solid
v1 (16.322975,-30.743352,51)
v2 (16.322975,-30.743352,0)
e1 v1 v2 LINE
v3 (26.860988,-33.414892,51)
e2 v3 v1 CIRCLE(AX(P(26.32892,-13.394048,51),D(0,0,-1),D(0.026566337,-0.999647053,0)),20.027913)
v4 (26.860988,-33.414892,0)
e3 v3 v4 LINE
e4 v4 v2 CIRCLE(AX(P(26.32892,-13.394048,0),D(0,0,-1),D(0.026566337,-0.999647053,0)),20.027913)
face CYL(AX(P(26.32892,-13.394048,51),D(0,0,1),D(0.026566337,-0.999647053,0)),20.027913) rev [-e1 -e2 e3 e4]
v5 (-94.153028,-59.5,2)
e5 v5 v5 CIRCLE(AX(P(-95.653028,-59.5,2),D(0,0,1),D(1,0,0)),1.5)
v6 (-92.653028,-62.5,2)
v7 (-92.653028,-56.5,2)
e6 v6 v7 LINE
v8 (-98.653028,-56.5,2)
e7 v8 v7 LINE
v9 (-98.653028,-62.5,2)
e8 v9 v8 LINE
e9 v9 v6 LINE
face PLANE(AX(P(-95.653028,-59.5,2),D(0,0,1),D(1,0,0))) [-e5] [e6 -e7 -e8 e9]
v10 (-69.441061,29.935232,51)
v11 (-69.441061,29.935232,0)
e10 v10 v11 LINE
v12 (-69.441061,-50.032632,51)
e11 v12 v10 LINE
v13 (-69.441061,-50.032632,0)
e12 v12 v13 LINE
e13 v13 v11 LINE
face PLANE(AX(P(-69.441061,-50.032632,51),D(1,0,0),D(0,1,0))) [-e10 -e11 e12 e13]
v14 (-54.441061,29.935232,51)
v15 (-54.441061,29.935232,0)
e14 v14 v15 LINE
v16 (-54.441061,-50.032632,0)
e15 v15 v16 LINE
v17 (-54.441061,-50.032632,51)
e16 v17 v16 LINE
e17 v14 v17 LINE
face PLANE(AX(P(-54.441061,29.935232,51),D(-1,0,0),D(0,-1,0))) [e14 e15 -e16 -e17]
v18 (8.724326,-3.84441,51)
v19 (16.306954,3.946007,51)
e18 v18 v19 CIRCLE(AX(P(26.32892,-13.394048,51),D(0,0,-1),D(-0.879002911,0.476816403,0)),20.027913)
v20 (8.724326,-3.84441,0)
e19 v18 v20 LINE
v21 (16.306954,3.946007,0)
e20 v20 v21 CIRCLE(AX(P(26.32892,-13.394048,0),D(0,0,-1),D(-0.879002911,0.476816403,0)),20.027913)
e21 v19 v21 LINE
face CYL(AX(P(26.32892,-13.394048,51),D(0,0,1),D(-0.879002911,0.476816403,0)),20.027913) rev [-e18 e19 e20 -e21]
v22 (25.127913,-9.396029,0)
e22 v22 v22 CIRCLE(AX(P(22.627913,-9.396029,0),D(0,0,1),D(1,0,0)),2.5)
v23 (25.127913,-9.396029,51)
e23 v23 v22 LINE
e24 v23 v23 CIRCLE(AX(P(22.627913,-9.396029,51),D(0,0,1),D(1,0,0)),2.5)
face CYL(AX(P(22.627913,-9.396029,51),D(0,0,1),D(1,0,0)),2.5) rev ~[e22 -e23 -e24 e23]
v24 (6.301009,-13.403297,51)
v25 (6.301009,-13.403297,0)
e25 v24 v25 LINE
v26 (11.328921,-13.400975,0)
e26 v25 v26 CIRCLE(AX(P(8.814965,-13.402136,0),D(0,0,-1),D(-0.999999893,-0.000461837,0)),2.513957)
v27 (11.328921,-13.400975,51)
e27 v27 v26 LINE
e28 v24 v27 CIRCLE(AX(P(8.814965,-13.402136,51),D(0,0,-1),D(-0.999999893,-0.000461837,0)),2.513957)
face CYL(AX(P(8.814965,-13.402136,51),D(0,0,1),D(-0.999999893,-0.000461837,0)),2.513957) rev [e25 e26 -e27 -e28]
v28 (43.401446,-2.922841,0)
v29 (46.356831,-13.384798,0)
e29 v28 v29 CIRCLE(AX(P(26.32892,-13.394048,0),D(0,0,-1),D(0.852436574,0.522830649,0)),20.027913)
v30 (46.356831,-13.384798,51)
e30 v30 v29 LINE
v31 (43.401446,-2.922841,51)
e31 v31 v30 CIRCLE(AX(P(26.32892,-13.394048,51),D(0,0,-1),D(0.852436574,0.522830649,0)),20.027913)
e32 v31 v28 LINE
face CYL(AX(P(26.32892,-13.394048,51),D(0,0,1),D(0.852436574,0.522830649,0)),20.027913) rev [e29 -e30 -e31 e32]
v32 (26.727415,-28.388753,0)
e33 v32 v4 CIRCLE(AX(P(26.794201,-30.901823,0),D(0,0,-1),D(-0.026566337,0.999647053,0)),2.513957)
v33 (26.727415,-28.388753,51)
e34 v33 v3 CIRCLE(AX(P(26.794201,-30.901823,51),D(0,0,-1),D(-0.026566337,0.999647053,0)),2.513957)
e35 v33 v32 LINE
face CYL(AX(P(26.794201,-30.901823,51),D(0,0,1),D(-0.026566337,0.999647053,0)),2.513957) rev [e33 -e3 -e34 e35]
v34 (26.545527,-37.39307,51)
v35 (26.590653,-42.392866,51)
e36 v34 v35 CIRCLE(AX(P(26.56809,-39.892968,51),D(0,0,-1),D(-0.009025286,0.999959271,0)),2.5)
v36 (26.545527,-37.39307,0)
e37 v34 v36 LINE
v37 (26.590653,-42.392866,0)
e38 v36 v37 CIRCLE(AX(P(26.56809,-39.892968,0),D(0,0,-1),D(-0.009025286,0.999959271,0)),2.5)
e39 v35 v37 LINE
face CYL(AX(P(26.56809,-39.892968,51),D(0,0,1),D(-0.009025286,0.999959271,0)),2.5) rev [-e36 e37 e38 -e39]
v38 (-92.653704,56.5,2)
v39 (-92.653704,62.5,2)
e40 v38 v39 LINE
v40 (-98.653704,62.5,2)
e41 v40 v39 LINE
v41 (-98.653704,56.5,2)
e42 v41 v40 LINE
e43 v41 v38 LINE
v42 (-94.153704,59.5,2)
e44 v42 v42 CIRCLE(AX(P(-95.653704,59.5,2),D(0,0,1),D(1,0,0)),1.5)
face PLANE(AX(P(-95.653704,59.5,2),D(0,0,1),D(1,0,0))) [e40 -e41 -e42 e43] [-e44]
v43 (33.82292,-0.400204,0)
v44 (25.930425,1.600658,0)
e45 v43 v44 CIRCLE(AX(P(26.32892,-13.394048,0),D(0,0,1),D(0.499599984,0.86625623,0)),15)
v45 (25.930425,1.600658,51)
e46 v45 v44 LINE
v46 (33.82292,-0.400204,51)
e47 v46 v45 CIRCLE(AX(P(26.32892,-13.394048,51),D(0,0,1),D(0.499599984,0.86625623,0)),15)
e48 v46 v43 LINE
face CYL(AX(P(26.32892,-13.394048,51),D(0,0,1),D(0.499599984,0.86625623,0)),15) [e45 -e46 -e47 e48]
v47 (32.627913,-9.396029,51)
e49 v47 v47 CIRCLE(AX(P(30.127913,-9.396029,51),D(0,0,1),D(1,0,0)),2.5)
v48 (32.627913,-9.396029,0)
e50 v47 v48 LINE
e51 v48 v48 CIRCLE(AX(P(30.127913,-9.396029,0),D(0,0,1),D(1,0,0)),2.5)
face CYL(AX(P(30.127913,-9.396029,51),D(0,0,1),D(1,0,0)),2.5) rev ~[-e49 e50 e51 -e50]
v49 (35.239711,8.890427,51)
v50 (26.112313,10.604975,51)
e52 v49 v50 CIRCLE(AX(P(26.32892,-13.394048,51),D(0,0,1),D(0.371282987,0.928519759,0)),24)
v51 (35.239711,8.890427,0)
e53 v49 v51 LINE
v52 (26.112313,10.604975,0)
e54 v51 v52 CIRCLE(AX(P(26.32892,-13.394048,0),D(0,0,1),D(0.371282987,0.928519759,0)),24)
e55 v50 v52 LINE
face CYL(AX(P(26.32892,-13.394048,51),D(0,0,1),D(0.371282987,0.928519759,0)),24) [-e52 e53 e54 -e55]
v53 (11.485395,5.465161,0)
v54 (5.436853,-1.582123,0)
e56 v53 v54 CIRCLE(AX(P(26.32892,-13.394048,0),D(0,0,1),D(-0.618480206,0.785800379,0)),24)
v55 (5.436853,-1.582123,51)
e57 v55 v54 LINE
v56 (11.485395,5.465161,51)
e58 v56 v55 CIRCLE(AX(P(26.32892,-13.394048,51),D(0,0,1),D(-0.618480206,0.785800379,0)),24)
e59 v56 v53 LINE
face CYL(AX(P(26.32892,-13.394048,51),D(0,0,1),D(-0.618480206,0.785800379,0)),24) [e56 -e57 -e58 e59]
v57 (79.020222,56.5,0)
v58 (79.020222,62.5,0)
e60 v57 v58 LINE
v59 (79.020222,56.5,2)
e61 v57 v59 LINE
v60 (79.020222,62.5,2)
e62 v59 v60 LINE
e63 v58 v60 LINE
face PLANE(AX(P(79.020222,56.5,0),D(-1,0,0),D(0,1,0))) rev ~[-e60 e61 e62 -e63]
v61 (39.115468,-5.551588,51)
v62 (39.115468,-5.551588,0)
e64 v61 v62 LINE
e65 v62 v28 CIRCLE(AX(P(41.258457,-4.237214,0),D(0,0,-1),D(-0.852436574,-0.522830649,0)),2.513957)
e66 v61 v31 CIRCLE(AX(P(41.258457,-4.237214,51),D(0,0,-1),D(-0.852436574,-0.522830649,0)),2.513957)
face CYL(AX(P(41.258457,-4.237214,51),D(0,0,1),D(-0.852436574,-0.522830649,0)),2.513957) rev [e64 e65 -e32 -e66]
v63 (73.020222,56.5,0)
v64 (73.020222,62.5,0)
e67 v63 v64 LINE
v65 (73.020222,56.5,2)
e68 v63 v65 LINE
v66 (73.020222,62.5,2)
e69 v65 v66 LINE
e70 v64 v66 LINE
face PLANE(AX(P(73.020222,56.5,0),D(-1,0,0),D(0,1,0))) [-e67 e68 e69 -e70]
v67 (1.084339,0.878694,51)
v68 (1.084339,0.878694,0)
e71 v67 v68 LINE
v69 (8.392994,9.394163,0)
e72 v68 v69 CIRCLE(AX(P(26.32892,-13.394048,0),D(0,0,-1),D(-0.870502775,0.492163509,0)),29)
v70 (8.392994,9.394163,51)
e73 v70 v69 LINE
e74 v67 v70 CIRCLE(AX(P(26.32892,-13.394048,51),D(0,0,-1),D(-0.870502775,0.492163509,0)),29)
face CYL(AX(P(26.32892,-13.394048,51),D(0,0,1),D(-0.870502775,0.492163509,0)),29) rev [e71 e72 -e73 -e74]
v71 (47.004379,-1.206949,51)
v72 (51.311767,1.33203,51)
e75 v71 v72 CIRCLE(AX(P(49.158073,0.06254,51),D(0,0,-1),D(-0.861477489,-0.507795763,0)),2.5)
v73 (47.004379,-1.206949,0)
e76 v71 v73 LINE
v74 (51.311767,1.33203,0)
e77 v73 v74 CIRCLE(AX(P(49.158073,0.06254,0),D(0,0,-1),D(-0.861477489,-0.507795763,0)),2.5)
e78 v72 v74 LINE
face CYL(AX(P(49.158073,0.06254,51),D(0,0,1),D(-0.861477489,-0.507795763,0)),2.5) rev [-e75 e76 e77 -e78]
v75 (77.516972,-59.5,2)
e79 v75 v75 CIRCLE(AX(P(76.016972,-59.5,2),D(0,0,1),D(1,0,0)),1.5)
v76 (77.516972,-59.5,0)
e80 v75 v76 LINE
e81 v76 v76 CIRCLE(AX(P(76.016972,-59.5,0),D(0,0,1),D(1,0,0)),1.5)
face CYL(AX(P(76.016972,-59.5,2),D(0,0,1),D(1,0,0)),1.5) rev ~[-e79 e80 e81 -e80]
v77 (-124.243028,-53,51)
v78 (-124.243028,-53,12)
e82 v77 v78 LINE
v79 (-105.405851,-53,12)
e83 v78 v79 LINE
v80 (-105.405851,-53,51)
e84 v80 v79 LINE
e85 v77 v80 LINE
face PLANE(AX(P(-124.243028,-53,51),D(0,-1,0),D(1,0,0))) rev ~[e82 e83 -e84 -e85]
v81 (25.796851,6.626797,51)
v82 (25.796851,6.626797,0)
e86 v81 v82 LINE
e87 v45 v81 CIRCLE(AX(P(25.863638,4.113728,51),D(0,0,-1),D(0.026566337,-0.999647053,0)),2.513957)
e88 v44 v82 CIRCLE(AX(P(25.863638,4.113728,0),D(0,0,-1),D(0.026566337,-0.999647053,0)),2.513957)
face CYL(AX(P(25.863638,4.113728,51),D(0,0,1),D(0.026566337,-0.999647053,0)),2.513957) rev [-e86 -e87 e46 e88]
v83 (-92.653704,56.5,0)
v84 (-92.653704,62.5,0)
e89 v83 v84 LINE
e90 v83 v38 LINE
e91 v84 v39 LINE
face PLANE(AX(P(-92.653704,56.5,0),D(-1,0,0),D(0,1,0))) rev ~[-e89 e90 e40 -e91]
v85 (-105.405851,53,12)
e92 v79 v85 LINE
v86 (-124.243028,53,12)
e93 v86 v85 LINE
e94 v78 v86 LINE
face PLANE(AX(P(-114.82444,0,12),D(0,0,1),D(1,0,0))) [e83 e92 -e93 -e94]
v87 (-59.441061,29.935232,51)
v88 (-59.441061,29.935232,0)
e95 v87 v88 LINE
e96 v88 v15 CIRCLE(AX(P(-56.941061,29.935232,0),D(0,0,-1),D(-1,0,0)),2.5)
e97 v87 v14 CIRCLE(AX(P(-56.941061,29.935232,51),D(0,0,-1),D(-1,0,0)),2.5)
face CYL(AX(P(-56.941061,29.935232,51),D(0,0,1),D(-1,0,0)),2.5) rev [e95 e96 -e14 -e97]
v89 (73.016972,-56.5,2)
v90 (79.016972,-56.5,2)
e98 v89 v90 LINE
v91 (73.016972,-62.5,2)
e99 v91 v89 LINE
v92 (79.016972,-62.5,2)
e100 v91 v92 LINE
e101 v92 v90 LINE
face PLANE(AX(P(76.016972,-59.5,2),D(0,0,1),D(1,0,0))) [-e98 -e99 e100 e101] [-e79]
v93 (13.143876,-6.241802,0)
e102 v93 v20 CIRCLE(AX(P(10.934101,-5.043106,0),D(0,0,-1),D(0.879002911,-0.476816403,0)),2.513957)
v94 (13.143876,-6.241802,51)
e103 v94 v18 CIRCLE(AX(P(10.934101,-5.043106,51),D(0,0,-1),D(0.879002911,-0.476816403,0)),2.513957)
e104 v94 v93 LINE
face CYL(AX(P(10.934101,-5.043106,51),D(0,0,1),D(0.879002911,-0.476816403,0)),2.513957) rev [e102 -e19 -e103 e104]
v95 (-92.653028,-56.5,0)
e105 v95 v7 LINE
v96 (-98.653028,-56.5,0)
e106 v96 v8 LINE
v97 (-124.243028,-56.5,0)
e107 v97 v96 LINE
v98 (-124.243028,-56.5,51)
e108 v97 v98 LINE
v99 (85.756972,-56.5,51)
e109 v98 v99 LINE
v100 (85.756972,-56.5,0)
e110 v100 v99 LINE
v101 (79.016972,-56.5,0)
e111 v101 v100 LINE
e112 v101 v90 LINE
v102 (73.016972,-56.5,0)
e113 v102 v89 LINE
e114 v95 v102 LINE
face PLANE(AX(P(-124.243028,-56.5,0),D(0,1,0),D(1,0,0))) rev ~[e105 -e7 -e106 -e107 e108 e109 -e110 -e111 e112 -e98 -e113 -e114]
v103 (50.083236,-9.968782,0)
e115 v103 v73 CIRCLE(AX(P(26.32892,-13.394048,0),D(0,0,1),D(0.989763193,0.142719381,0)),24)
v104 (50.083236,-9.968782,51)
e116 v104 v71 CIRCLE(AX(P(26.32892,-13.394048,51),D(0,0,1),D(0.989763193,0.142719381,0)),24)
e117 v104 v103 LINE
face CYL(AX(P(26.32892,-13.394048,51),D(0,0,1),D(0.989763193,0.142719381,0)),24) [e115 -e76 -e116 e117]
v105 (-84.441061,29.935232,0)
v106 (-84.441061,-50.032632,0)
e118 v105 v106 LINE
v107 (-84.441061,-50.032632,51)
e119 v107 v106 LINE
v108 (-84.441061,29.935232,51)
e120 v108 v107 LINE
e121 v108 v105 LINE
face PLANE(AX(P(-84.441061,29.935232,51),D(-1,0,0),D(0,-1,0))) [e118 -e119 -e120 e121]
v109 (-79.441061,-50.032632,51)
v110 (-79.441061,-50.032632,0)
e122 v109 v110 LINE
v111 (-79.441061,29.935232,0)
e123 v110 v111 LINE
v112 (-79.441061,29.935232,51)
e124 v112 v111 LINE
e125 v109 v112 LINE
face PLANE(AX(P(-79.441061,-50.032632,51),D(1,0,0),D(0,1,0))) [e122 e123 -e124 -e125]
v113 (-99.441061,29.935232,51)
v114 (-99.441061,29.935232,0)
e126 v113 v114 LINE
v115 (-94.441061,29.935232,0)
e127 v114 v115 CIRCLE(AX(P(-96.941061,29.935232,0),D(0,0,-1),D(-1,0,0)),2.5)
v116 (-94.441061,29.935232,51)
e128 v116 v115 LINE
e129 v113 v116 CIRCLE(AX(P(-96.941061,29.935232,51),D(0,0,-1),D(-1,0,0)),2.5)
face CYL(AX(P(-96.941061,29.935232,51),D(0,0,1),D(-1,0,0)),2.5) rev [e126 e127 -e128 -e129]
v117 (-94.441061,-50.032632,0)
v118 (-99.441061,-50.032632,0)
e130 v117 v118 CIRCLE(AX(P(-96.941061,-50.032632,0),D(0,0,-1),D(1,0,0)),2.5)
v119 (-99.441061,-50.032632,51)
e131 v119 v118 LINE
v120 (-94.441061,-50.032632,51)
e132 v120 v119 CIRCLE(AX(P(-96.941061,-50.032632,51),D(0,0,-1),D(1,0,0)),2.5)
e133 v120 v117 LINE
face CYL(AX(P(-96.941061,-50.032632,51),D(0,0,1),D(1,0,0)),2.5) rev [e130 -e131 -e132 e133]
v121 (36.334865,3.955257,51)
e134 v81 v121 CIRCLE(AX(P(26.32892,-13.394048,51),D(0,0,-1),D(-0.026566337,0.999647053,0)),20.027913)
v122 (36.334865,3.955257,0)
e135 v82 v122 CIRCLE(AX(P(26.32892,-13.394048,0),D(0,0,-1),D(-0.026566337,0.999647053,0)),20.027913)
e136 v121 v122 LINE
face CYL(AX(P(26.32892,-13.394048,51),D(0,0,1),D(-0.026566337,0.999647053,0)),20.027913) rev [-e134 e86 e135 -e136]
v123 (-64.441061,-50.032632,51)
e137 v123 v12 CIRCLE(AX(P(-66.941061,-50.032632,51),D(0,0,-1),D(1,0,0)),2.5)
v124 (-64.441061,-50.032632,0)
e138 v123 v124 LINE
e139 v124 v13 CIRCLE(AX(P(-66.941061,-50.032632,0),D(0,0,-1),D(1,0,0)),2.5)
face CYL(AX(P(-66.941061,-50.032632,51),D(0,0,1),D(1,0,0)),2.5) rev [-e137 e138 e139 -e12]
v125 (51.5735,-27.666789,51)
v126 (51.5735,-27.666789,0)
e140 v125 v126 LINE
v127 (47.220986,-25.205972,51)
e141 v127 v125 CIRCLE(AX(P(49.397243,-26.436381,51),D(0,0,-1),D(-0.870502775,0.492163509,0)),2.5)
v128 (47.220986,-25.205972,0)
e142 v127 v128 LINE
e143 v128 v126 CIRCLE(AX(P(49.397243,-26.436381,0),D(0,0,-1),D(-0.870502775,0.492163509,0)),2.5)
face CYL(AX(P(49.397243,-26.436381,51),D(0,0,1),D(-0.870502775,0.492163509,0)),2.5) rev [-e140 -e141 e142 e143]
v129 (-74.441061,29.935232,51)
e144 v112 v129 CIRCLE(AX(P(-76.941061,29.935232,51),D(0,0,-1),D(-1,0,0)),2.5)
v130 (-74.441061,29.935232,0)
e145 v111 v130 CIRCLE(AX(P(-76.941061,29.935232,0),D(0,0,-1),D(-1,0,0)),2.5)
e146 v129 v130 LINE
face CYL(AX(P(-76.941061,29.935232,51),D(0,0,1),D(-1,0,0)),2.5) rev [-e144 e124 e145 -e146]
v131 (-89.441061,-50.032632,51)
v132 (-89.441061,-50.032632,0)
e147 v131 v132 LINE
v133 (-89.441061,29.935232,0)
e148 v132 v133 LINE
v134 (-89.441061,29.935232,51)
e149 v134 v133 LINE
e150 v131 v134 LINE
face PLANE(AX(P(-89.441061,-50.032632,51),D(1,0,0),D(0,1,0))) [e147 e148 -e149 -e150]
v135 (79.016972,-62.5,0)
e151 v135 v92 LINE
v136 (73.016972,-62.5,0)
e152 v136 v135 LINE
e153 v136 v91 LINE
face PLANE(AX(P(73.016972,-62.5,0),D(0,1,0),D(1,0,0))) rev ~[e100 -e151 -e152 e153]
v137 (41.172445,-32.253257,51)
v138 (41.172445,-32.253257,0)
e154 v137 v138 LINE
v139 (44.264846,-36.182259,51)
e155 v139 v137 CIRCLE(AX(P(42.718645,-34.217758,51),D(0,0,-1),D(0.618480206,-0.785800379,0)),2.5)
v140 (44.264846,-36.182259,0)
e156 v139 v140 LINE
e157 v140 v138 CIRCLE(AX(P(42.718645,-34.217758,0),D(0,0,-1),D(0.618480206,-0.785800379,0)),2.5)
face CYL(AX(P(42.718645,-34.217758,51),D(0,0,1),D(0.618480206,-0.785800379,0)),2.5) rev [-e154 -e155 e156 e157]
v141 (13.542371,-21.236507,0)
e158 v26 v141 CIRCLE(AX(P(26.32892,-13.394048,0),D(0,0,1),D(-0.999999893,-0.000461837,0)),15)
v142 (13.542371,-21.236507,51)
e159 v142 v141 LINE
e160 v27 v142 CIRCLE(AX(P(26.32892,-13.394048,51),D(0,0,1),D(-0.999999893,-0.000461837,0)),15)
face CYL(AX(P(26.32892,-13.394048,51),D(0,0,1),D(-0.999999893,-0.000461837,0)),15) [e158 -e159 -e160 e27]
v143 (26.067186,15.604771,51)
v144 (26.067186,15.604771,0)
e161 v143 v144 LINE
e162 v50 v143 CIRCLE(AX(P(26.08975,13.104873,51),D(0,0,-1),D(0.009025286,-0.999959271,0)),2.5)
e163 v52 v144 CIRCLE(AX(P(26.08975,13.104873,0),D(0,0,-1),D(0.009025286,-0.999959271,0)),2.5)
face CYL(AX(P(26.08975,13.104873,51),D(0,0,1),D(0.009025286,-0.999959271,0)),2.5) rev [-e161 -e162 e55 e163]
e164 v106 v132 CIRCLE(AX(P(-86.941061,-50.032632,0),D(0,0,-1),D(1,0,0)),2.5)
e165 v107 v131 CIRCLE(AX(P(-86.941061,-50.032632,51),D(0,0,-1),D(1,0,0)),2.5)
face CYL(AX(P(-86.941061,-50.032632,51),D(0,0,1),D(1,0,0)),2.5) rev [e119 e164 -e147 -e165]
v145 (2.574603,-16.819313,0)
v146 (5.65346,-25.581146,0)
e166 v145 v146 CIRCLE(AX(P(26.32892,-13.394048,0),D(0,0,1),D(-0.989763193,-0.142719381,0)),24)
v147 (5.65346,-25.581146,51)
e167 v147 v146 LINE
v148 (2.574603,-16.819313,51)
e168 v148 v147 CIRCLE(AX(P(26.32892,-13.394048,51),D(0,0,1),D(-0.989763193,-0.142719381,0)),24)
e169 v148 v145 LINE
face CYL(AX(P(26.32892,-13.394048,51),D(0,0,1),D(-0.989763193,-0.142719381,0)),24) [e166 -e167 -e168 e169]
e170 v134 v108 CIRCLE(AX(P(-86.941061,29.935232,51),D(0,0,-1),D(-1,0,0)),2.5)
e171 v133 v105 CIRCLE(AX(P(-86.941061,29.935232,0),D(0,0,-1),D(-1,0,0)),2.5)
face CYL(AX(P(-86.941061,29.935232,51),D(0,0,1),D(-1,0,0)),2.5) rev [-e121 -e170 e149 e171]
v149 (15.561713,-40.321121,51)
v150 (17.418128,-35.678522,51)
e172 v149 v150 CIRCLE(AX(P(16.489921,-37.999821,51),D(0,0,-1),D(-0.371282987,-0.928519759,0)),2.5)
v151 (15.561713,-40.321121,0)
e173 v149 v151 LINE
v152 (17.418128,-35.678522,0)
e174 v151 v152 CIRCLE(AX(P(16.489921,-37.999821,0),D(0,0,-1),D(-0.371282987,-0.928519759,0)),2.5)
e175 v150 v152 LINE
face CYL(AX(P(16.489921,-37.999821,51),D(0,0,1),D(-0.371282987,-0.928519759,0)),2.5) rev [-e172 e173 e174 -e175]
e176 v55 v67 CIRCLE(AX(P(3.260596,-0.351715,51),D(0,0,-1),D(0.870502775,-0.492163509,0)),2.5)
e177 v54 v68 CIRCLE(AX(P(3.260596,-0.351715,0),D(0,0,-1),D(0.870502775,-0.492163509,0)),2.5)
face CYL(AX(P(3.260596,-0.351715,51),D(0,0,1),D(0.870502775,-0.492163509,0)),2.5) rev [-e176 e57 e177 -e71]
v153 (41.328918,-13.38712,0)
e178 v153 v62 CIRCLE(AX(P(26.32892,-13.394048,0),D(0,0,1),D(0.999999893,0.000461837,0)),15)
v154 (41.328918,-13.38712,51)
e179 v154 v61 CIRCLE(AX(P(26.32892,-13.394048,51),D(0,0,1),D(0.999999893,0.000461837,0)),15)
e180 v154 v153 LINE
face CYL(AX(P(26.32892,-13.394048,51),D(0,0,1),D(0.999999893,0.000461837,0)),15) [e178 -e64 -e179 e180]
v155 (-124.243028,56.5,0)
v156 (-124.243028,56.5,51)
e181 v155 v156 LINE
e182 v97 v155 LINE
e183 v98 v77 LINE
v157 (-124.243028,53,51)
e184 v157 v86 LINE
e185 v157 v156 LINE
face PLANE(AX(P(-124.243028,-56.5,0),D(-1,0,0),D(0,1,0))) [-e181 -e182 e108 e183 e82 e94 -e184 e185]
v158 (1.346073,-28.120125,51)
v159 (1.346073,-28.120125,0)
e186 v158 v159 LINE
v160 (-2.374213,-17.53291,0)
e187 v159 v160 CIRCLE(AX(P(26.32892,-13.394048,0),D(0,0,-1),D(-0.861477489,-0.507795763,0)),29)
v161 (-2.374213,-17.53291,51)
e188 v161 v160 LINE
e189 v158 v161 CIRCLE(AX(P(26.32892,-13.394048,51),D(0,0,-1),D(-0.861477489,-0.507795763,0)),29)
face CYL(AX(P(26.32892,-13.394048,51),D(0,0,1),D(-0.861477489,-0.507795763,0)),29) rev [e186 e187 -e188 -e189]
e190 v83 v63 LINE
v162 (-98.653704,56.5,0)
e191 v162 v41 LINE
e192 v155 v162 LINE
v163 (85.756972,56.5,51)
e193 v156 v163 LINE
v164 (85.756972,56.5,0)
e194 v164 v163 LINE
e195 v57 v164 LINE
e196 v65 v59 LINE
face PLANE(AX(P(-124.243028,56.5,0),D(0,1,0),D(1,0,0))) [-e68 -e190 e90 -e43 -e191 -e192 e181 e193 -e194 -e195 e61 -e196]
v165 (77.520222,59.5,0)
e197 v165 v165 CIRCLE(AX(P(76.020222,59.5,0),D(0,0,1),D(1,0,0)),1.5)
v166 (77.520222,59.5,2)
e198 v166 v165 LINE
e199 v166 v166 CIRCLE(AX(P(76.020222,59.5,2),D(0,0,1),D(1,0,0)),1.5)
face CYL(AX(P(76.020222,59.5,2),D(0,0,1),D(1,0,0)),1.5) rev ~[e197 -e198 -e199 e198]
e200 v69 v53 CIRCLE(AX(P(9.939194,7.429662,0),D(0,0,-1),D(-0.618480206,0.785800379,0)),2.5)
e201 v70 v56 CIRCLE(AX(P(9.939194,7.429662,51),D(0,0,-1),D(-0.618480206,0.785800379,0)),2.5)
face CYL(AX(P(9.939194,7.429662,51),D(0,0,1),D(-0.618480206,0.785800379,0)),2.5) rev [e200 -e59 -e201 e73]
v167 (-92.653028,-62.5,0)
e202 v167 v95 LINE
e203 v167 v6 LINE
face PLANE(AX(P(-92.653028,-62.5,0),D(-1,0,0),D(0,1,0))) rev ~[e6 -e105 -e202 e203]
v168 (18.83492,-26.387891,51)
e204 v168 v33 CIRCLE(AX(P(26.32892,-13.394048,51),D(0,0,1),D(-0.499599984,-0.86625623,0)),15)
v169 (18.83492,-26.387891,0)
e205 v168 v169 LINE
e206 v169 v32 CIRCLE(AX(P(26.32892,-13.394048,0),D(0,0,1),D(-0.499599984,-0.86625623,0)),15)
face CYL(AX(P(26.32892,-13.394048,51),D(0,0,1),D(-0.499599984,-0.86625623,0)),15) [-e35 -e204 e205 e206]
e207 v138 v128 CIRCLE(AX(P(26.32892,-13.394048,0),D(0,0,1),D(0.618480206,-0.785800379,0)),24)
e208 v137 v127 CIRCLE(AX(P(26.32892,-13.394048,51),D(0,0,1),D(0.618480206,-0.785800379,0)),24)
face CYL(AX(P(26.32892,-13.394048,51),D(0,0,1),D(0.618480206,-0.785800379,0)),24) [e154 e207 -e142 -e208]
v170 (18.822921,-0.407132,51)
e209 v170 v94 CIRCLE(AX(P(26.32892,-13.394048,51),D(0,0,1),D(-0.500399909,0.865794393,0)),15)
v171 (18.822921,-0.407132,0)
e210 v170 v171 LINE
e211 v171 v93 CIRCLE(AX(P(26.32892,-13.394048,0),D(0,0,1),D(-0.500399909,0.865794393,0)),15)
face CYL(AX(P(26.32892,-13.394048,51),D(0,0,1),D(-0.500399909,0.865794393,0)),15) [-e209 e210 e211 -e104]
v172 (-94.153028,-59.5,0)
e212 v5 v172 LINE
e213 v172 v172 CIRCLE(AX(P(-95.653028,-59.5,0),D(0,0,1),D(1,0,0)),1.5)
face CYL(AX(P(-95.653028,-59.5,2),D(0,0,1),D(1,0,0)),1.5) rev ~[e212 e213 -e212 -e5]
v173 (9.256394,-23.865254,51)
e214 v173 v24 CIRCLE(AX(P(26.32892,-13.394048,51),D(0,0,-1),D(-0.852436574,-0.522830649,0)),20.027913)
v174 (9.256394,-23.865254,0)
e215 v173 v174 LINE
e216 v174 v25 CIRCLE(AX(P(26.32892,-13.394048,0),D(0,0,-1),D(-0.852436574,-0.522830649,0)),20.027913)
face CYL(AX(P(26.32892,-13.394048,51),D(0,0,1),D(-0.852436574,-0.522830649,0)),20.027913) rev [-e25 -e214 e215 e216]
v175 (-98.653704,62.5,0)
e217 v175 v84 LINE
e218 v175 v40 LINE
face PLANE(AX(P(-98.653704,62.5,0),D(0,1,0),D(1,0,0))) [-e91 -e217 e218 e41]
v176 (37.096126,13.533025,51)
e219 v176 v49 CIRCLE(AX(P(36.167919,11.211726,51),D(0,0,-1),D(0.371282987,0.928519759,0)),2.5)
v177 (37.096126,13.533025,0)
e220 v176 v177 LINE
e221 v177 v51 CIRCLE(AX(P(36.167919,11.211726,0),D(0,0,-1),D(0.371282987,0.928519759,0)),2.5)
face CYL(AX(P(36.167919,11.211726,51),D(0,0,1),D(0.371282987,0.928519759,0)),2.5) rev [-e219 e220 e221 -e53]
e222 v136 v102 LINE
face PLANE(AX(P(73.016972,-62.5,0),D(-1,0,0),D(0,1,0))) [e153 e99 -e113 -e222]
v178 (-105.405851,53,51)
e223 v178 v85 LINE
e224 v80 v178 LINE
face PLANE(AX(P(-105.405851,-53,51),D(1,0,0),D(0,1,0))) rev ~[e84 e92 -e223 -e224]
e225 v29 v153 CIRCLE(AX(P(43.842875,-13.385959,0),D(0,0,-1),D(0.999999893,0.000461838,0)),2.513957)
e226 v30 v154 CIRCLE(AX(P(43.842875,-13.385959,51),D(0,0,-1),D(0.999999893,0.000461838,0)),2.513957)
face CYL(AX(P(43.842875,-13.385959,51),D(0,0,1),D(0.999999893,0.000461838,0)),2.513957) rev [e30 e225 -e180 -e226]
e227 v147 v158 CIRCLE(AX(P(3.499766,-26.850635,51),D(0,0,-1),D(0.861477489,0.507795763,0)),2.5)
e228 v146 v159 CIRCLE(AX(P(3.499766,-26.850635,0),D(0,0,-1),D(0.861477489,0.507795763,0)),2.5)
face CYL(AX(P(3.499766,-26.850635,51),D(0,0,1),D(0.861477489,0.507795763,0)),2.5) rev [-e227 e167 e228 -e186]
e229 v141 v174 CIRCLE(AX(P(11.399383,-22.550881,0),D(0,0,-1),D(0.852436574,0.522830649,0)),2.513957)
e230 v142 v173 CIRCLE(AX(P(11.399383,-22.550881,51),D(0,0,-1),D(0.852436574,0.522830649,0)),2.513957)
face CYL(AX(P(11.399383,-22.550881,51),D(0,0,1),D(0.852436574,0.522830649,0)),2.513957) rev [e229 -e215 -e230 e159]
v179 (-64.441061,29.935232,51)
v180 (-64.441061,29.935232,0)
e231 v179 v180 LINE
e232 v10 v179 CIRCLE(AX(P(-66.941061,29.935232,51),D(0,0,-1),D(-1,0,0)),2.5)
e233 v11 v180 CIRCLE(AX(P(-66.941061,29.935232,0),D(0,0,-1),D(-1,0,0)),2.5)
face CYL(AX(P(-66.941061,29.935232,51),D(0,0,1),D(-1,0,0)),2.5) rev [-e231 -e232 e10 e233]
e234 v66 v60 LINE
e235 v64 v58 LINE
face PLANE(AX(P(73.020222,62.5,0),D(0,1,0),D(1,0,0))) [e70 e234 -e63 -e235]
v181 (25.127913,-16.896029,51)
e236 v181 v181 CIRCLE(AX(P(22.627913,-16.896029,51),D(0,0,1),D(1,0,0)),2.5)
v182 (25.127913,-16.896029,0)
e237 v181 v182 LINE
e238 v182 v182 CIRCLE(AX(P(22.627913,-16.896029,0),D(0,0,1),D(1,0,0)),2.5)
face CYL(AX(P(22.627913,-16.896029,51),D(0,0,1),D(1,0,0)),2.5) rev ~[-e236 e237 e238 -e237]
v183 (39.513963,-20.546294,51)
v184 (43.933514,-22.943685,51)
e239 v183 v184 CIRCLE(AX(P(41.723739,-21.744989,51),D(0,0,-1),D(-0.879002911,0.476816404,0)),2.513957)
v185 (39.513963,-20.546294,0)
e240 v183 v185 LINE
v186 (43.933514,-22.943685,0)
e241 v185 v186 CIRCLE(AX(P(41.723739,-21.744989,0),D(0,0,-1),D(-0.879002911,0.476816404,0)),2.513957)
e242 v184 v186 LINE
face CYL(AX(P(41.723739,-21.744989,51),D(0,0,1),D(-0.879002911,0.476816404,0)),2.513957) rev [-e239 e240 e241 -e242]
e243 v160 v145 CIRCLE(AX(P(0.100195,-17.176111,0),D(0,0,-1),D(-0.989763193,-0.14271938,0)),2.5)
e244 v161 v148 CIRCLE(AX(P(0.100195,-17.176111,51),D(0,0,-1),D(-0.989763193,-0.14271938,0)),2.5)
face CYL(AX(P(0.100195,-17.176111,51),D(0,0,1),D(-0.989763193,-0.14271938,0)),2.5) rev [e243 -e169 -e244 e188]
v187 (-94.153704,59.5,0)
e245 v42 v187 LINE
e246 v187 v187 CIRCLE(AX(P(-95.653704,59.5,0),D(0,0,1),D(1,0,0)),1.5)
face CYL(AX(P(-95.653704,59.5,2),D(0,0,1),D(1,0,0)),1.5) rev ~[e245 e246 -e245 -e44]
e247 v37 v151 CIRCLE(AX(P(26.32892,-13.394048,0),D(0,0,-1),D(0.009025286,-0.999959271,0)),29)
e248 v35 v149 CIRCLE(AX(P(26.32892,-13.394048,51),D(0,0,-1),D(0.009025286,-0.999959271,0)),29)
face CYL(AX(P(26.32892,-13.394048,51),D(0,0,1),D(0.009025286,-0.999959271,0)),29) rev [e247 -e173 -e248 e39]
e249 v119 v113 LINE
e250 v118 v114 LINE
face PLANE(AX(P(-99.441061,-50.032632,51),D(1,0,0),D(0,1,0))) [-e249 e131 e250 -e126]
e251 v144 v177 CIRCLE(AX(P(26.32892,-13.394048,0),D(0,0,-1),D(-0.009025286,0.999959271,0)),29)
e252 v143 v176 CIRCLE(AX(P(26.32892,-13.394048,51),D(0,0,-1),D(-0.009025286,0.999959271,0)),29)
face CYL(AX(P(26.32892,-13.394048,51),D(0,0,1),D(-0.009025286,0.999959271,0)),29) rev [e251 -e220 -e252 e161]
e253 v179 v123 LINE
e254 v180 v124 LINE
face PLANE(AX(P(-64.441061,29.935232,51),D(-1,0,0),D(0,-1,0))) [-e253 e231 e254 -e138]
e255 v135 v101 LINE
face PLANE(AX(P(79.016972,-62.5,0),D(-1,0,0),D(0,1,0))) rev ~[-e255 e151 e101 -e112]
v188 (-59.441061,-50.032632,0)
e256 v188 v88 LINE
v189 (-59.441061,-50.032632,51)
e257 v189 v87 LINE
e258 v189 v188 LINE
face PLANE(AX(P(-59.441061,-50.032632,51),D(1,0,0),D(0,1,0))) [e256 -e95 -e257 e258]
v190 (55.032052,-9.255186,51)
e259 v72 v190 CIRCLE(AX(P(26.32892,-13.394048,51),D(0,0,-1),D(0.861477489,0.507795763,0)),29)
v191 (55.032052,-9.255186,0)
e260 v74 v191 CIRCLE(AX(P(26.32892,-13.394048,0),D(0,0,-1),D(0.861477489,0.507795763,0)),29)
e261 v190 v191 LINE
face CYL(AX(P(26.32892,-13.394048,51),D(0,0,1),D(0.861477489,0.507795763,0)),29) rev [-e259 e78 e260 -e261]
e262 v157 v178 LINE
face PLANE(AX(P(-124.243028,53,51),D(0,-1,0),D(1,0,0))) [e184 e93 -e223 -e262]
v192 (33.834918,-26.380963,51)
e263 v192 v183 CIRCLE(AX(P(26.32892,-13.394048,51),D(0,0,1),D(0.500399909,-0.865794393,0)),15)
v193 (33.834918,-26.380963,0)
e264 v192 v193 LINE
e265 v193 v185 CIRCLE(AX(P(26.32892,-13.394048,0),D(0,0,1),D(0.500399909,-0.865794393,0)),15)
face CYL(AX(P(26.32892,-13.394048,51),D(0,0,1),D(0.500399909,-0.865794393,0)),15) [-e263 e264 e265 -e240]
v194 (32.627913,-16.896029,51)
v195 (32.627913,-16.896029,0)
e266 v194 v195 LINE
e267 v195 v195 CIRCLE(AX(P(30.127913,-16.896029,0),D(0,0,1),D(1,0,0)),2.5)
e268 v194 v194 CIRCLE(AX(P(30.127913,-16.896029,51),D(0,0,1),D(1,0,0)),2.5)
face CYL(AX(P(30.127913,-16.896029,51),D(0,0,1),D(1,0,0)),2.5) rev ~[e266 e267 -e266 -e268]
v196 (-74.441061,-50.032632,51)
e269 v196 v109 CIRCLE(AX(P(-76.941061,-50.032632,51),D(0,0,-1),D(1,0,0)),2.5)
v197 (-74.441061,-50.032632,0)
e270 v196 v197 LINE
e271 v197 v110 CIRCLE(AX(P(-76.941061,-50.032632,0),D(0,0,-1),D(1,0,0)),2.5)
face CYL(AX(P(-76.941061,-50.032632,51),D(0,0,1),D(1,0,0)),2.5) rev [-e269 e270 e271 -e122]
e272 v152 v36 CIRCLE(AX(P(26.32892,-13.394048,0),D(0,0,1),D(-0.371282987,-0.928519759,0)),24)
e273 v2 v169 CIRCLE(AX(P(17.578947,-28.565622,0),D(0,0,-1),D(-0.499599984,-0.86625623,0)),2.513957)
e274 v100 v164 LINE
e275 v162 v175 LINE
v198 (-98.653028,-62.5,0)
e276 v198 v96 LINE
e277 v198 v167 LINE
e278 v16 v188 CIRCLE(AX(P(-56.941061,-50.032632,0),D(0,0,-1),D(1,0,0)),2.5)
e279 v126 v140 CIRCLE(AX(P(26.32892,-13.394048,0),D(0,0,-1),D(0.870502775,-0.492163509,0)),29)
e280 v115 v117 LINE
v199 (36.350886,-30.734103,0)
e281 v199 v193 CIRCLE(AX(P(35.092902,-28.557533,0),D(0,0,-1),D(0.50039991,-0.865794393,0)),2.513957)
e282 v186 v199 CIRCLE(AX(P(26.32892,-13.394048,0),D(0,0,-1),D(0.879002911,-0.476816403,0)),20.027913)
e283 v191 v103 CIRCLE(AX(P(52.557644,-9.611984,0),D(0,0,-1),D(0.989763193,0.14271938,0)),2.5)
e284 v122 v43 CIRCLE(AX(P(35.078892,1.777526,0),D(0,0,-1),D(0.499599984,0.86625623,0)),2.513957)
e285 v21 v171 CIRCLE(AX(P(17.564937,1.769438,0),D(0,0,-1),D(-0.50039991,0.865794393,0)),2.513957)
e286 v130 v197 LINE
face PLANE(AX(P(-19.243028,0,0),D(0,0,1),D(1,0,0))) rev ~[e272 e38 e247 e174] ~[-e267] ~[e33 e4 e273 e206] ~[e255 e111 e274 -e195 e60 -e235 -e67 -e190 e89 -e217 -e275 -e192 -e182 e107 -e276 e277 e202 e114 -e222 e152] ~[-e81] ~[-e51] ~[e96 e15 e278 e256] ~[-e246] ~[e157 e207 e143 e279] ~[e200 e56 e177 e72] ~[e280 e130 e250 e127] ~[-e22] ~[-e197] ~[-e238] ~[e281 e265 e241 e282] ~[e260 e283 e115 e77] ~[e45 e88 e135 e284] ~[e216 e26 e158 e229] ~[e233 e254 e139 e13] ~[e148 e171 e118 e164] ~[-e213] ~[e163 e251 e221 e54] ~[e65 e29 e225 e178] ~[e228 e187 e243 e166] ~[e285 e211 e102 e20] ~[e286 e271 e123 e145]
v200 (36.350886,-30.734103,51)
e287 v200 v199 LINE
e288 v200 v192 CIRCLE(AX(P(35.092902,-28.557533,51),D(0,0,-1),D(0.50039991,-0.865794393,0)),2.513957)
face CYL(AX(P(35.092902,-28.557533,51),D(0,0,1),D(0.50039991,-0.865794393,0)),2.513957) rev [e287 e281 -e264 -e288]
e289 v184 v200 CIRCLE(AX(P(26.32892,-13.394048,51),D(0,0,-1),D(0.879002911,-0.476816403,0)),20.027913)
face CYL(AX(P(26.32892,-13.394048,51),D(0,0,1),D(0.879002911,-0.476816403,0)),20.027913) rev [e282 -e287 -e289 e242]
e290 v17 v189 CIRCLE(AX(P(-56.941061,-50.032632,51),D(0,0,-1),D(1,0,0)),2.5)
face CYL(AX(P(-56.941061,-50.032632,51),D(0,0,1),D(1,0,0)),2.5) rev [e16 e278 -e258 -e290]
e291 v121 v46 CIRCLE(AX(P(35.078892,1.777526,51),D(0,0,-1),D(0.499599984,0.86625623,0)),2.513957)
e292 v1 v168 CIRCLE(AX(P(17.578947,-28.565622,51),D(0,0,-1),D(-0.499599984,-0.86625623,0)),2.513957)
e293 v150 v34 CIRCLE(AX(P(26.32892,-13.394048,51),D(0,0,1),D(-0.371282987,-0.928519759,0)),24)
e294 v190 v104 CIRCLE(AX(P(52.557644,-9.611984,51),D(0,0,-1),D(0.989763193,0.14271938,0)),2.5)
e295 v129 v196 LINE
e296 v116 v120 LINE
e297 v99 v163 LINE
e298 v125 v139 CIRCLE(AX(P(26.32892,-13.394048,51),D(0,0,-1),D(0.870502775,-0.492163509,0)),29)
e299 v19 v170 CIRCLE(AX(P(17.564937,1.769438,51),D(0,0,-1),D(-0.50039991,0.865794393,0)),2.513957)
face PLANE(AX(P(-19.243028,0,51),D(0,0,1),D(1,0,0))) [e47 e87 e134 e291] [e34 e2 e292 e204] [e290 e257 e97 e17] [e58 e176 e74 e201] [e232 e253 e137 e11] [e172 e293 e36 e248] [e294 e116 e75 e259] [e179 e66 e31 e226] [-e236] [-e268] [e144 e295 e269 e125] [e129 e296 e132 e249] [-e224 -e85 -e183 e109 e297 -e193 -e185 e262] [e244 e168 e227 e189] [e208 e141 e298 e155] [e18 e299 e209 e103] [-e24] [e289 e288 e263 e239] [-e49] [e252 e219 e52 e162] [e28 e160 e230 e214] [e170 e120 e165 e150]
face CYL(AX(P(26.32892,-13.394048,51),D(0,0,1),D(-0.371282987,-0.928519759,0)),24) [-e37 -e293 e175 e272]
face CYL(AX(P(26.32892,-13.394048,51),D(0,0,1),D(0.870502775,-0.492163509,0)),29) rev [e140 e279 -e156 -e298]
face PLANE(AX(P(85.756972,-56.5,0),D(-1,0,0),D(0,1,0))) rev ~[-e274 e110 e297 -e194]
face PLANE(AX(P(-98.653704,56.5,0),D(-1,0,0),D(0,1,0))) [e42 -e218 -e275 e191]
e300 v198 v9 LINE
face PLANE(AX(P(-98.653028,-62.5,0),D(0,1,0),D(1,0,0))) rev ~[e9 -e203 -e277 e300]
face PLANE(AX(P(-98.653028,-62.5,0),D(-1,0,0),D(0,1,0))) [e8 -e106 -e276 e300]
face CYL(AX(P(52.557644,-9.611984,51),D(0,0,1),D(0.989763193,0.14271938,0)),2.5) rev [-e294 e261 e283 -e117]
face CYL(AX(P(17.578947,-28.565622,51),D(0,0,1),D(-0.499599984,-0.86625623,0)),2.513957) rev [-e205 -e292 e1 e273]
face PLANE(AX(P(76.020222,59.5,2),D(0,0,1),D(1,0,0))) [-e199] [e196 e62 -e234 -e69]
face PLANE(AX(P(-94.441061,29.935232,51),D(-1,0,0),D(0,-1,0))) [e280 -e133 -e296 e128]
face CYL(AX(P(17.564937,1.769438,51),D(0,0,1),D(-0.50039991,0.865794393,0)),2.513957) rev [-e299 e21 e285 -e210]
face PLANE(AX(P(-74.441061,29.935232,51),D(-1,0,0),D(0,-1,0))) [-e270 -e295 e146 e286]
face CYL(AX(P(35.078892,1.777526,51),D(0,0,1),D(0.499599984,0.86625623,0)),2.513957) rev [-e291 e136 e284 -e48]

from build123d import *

# Parameters (mm, degrees)
ESBO_O1_W                = 210
ESBO_O1_H                = 113
RESSALTO_EXTRUS_O1_DEPTH = 51
ESBO_O2_R                = 2.5
CORTE_EXTRUS_O1_DEPTH    = 51
CORTE_EXTRUS_O2_DEPTH    = 51
ESBO_O4_W                = 18.837176744
ESBO_O4_H                = 106
CORTE_EXTRUS_O3_DEPTH    = 39
ESBO_O5_W                = 6
ESBO_O5_H                = 6
RESSALTO_EXTRUS_O2_DEPTH = 2
ESBO_O6_R                = 1.5
CORTE_EXTRUS_O4_DEPTH    = 148.457044521
ESBO_O7_R                = 1.5
CORTE_EXTRUS_O5_DEPTH    = 148.457044521
ESBO_O8_W                = 6
ESBO_O8_H                = 6
RESSALTO_EXTRUS_O3_DEPTH = 2
ESBO_O9_R                = 1.5
CORTE_EXTRUS_O6_DEPTH    = 148.457044521


with BuildPart() as part:
    # Esboço1 → Ressalto-extrusão1 (new body)
    with BuildSketch(Plane.XY):
        with Locations((-19.243027888, 0)):
            Rectangle(ESBO_O1_W, ESBO_O1_H)
    extrude(amount=RESSALTO_EXTRUS_O1_DEPTH)

    # Esboço2 → Corte-extrusão1 (cut)
    with BuildSketch(Plane.XY.offset(51)):
        with Locations((30.12791278, -9.396028657)):
            Circle(ESBO_O2_R)
        with Locations((22.62791278, -9.396028657)):
            Circle(ESBO_O2_R)
        with Locations((22.62791278, -16.896028657)):
            Circle(ESBO_O2_R)
        with Locations((30.12791278, -16.896028657)):
            Circle(ESBO_O2_R)
        with BuildLine():
            ThreePointArc((33.822919513, -0.400204154), (30.015030071, 1.145986464), (25.930424698, 1.600658183))
            ThreePointArc((25.930424698, 1.600658183), (23.350568744, 4.046940897), (25.796851458, 6.626796851))
            ThreePointArc((25.796851458, 6.626796851), (31.250592932, 6.019721801), (36.334864895, 3.955257029))
            ThreePointArc((36.334864895, 3.955257029), (37.256622795, 0.521553746), (33.822919513, -0.400204154))
        make_face()
        with BuildLine():
            ThreePointArc((35.239711452, 8.890426616), (30.759735868, 10.193403901), (26.112312888, 10.604974905))
            ThreePointArc((26.112312888, 10.604974905), (23.589851495, 13.082309867), (26.067186457, 15.604771261))
            ThreePointArc((26.067186457, 15.604771261), (31.682822558, 15.107456298), (37.096126389, 13.533025412))
            ThreePointArc((37.096126389, 13.533025412), (38.489218319, 10.283518546), (35.239711452, 8.890426616))
        make_face()
        with BuildLine():
            ThreePointArc((41.328918156, -13.387120046), (40.76401379, -9.316295745), (39.115468362, -5.551587868))
            ThreePointArc((39.115468362, -5.551587868), (39.944083361, -2.094225717), (43.401445512, -2.922840715))
            ThreePointArc((43.401445512, -2.922840715), (45.602573834, -7.949456902), (46.356830877, -13.384797967))
            ThreePointArc((46.356830877, -13.384797967), (43.844035556, -15.899915367), (41.328918156, -13.387120046))
        make_face()
        with BuildLine():
            ThreePointArc((33.834918399, -26.380963497), (37.077903475, -23.856329815), (39.513963421, -20.546293656))
            ThreePointArc((39.513963421, -20.546293656), (42.922434373, -19.53521422), (43.933513809, -22.943685172))
            ThreePointArc((43.933513809, -22.943685172), (40.680900657, -27.363226309), (36.350885738, -30.734102602))
            ThreePointArc((36.350885738, -30.734102602), (32.916332516, -29.815516719), (33.834918399, -26.380963497))
        make_face()
        with BuildLine():
            ThreePointArc((18.834919999, -26.387891057), (22.642809441, -27.934081676), (26.727414815, -28.388753395))
            ThreePointArc((26.727414815, -28.388753395), (29.307270768, -30.835036109), (26.860988054, -33.414892062))
            ThreePointArc((26.860988054, -33.414892062), (21.40724658, -32.807817013), (16.322974617, -30.743352241))
            ThreePointArc((16.322974617, -30.743352241), (15.401216717, -27.309648958), (18.834919999, -26.387891057))
        make_face()
        with BuildLine():
            ThreePointArc((11.328921356, -13.400975166), (11.893825722, -17.471799467), (13.54237115, -21.236507344))
            ThreePointArc((13.54237115, -21.236507344), (12.713756151, -24.693869495), (9.256394, -23.865254496))
            ThreePointArc((9.256394, -23.865254496), (7.055265679, -18.838638309), (6.301008635, -13.403297244))
            ThreePointArc((6.301008635, -13.403297244), (8.813803956, -10.888179845), (11.328921356, -13.400975166))
        make_face()
        with BuildLine():
            ThreePointArc((18.822921113, -0.407131715), (15.579936037, -2.931765397), (13.143876092, -6.241801556))
            ThreePointArc((13.143876092, -6.241801556), (9.735405139, -7.252880992), (8.724325703, -3.84441004))
            ThreePointArc((8.724325703, -3.84441004), (11.976938855, 0.575131097), (16.306953774, 3.94600739))
            ThreePointArc((16.306953774, 3.94600739), (19.741506996, 3.027421507), (18.822921113, -0.407131715))
        make_face()
        with BuildLine():
            ThreePointArc((50.08323639, -9.968782472), (48.971660027, -5.437521165), (47.004379482, -1.2069493))
            ThreePointArc((47.004379482, -1.2069493), (47.888583797, 2.216233828), (51.311766925, 1.332029513))
            ThreePointArc((51.311766925, 1.332029513), (53.688897584, -3.77991149), (55.032052356, -9.255185569))
            ThreePointArc((55.032052356, -9.255185569), (52.914442825, -12.086392003), (50.08323639, -9.968782472))
        make_face()
        with BuildLine():
            ThreePointArc((41.172444694, -32.253256694), (44.540843916, -29.024972672), (47.22098635, -25.205971811))
            ThreePointArc((47.22098635, -25.205971811), (50.627652058, -24.260123646), (51.573500224, -27.666789354))
            ThreePointArc((51.573500224, -27.666789354), (48.334994782, -32.281415394), (44.264845723, -36.182258587))
            ThreePointArc((44.264845723, -36.182258587), (40.754144262, -35.763958155), (41.172444694, -32.253256694))
        make_face()
        with BuildLine():
            ThreePointArc((17.41812806, -35.678521828), (21.898103644, -36.981499113), (26.545526624, -37.393070117))
            ThreePointArc((26.545526624, -37.393070117), (29.067988018, -39.870405079), (26.590653055, -42.392866473))
            ThreePointArc((26.590653055, -42.392866473), (20.975016954, -41.89555151), (15.561713123, -40.321120624))
            ThreePointArc((15.561713123, -40.321120624), (14.168621193, -37.071613758), (17.41812806, -35.678521828))
        make_face()
        with BuildLine():
            ThreePointArc((2.574603122, -16.81931274), (3.686179485, -21.350574047), (5.65346003, -25.581145911))
            ThreePointArc((5.65346003, -25.581145911), (4.769255715, -29.00432904), (1.346072587, -28.120124725))
            ThreePointArc((1.346072587, -28.120124725), (-1.031058072, -23.008183722), (-2.374212844, -17.532909643))
            ThreePointArc((-2.374212844, -17.532909643), (-0.256603312, -14.701703209), (2.574603122, -16.81931274))
        make_face()
        with BuildLine():
            ThreePointArc((11.485394818, 5.465161482), (8.116995597, 2.23687746), (5.436853162, -1.582123401))
            ThreePointArc((5.436853162, -1.582123401), (2.030187454, -2.527971566), (1.084339288, 0.878694142))
            ThreePointArc((1.084339288, 0.878694142), (4.32284473, 5.493320182), (8.392993789, 9.394163375))
            ThreePointArc((8.392993789, 9.394163375), (11.90369525, 8.975862943), (11.485394818, 5.465161482))
        make_face()
    extrude(amount=-CORTE_EXTRUS_O1_DEPTH, mode=Mode.SUBTRACT)

    # Esboço3 → Corte-extrusão2 (cut)
    with BuildSketch(Plane.XY.offset(51)):
        with BuildLine():
            Line((-94.441061263, 29.935231702), (-94.441061263, -50.032631861))
            ThreePointArc((-94.441061263, -50.032631861), (-96.941061263, -52.532631861), (-99.441061263, -50.032631861))
            Line((-99.441061263, -50.032631861), (-99.441061263, 29.935231702))
            ThreePointArc((-99.441061263, 29.935231702), (-96.941061263, 32.435231702), (-94.441061263, 29.935231702))
        make_face()
        with BuildLine():
            Line((-84.441061263, 29.935231702), (-84.441061263, -50.032631861))
            ThreePointArc((-84.441061263, -50.032631861), (-86.941061263, -52.532631861), (-89.441061263, -50.032631861))
            Line((-89.441061263, -50.032631861), (-89.441061263, 29.935231702))
            ThreePointArc((-89.441061263, 29.935231702), (-86.941061263, 32.435231702), (-84.441061263, 29.935231702))
        make_face()
        with BuildLine():
            Line((-74.441061263, 29.935231702), (-74.441061263, -50.032631861))
            ThreePointArc((-74.441061263, -50.032631861), (-76.941061263, -52.532631861), (-79.441061263, -50.032631861))
            Line((-79.441061263, -50.032631861), (-79.441061263, 29.935231702))
            ThreePointArc((-79.441061263, 29.935231702), (-76.941061263, 32.435231702), (-74.441061263, 29.935231702))
        make_face()
        with BuildLine():
            Line((-64.441061263, 29.935231702), (-64.441061263, -50.032631861))
            ThreePointArc((-64.441061263, -50.032631861), (-66.941061263, -52.532631861), (-69.441061263, -50.032631861))
            Line((-69.441061263, -50.032631861), (-69.441061263, 29.935231702))
            ThreePointArc((-69.441061263, 29.935231702), (-66.941061263, 32.435231702), (-64.441061263, 29.935231702))
        make_face()
        with BuildLine():
            Line((-54.441061263, 29.935231702), (-54.441061263, -50.032631861))
            ThreePointArc((-54.441061263, -50.032631861), (-56.941061263, -52.532631861), (-59.441061263, -50.032631861))
            Line((-59.441061263, -50.032631861), (-59.441061263, 29.935231702))
            ThreePointArc((-59.441061263, 29.935231702), (-56.941061263, 32.435231702), (-54.441061263, 29.935231702))
        make_face()
    extrude(amount=-CORTE_EXTRUS_O2_DEPTH, mode=Mode.SUBTRACT)

    # Esboço4 → Corte-extrusão3 (cut)
    with BuildSketch(Plane.XY.offset(51)):
        with Locations((-114.824439516, 0)):
            Rectangle(ESBO_O4_W, ESBO_O4_H)
    extrude(amount=-CORTE_EXTRUS_O3_DEPTH, mode=Mode.SUBTRACT)

    # Esboço5 → Ressalto-extrusão2 (add)
    with BuildSketch(Plane.XY):
        with Locations((-95.653704498, 59.5)):
            Rectangle(ESBO_O5_W, ESBO_O5_H)
        with Locations((76.020221531, 59.5)):
            Rectangle(ESBO_O5_W, ESBO_O5_H)
    extrude(amount=RESSALTO_EXTRUS_O2_DEPTH)

    # Esboço6 → Corte-extrusão4 (cut, through all)
    with BuildSketch(Plane.XY.offset(2)):
        with Locations((-95.653704498, 59.5)):
            Circle(ESBO_O6_R)
    extrude(amount=-CORTE_EXTRUS_O4_DEPTH, mode=Mode.SUBTRACT)

    # Esboço7 → Corte-extrusão5 (cut, through all)
    with BuildSketch(Plane.XY.offset(2)):
        with Locations((76.020221531, 59.5)):
            Circle(ESBO_O7_R)
    extrude(amount=-CORTE_EXTRUS_O5_DEPTH, mode=Mode.SUBTRACT)

    # Esboço8 → Ressalto-extrusão3 (add)
    with BuildSketch(Plane.XY):
        with Locations((-95.653027888, -59.5)):
            Rectangle(ESBO_O8_W, ESBO_O8_H)
        with Locations((76.016972112, -59.5)):
            Rectangle(ESBO_O8_W, ESBO_O8_H)
    extrude(amount=RESSALTO_EXTRUS_O3_DEPTH)

    # Esboço9 → Corte-extrusão6 (cut, through all)
    with BuildSketch(Plane.XY.offset(2)):
        with Locations((-95.653027888, -59.5)):
            Circle(ESBO_O9_R)
        with Locations((76.016972112, -59.5)):
            Circle(ESBO_O9_R)
    extrude(amount=-CORTE_EXTRUS_O6_DEPTH, mode=Mode.SUBTRACT)


solid = part.part
